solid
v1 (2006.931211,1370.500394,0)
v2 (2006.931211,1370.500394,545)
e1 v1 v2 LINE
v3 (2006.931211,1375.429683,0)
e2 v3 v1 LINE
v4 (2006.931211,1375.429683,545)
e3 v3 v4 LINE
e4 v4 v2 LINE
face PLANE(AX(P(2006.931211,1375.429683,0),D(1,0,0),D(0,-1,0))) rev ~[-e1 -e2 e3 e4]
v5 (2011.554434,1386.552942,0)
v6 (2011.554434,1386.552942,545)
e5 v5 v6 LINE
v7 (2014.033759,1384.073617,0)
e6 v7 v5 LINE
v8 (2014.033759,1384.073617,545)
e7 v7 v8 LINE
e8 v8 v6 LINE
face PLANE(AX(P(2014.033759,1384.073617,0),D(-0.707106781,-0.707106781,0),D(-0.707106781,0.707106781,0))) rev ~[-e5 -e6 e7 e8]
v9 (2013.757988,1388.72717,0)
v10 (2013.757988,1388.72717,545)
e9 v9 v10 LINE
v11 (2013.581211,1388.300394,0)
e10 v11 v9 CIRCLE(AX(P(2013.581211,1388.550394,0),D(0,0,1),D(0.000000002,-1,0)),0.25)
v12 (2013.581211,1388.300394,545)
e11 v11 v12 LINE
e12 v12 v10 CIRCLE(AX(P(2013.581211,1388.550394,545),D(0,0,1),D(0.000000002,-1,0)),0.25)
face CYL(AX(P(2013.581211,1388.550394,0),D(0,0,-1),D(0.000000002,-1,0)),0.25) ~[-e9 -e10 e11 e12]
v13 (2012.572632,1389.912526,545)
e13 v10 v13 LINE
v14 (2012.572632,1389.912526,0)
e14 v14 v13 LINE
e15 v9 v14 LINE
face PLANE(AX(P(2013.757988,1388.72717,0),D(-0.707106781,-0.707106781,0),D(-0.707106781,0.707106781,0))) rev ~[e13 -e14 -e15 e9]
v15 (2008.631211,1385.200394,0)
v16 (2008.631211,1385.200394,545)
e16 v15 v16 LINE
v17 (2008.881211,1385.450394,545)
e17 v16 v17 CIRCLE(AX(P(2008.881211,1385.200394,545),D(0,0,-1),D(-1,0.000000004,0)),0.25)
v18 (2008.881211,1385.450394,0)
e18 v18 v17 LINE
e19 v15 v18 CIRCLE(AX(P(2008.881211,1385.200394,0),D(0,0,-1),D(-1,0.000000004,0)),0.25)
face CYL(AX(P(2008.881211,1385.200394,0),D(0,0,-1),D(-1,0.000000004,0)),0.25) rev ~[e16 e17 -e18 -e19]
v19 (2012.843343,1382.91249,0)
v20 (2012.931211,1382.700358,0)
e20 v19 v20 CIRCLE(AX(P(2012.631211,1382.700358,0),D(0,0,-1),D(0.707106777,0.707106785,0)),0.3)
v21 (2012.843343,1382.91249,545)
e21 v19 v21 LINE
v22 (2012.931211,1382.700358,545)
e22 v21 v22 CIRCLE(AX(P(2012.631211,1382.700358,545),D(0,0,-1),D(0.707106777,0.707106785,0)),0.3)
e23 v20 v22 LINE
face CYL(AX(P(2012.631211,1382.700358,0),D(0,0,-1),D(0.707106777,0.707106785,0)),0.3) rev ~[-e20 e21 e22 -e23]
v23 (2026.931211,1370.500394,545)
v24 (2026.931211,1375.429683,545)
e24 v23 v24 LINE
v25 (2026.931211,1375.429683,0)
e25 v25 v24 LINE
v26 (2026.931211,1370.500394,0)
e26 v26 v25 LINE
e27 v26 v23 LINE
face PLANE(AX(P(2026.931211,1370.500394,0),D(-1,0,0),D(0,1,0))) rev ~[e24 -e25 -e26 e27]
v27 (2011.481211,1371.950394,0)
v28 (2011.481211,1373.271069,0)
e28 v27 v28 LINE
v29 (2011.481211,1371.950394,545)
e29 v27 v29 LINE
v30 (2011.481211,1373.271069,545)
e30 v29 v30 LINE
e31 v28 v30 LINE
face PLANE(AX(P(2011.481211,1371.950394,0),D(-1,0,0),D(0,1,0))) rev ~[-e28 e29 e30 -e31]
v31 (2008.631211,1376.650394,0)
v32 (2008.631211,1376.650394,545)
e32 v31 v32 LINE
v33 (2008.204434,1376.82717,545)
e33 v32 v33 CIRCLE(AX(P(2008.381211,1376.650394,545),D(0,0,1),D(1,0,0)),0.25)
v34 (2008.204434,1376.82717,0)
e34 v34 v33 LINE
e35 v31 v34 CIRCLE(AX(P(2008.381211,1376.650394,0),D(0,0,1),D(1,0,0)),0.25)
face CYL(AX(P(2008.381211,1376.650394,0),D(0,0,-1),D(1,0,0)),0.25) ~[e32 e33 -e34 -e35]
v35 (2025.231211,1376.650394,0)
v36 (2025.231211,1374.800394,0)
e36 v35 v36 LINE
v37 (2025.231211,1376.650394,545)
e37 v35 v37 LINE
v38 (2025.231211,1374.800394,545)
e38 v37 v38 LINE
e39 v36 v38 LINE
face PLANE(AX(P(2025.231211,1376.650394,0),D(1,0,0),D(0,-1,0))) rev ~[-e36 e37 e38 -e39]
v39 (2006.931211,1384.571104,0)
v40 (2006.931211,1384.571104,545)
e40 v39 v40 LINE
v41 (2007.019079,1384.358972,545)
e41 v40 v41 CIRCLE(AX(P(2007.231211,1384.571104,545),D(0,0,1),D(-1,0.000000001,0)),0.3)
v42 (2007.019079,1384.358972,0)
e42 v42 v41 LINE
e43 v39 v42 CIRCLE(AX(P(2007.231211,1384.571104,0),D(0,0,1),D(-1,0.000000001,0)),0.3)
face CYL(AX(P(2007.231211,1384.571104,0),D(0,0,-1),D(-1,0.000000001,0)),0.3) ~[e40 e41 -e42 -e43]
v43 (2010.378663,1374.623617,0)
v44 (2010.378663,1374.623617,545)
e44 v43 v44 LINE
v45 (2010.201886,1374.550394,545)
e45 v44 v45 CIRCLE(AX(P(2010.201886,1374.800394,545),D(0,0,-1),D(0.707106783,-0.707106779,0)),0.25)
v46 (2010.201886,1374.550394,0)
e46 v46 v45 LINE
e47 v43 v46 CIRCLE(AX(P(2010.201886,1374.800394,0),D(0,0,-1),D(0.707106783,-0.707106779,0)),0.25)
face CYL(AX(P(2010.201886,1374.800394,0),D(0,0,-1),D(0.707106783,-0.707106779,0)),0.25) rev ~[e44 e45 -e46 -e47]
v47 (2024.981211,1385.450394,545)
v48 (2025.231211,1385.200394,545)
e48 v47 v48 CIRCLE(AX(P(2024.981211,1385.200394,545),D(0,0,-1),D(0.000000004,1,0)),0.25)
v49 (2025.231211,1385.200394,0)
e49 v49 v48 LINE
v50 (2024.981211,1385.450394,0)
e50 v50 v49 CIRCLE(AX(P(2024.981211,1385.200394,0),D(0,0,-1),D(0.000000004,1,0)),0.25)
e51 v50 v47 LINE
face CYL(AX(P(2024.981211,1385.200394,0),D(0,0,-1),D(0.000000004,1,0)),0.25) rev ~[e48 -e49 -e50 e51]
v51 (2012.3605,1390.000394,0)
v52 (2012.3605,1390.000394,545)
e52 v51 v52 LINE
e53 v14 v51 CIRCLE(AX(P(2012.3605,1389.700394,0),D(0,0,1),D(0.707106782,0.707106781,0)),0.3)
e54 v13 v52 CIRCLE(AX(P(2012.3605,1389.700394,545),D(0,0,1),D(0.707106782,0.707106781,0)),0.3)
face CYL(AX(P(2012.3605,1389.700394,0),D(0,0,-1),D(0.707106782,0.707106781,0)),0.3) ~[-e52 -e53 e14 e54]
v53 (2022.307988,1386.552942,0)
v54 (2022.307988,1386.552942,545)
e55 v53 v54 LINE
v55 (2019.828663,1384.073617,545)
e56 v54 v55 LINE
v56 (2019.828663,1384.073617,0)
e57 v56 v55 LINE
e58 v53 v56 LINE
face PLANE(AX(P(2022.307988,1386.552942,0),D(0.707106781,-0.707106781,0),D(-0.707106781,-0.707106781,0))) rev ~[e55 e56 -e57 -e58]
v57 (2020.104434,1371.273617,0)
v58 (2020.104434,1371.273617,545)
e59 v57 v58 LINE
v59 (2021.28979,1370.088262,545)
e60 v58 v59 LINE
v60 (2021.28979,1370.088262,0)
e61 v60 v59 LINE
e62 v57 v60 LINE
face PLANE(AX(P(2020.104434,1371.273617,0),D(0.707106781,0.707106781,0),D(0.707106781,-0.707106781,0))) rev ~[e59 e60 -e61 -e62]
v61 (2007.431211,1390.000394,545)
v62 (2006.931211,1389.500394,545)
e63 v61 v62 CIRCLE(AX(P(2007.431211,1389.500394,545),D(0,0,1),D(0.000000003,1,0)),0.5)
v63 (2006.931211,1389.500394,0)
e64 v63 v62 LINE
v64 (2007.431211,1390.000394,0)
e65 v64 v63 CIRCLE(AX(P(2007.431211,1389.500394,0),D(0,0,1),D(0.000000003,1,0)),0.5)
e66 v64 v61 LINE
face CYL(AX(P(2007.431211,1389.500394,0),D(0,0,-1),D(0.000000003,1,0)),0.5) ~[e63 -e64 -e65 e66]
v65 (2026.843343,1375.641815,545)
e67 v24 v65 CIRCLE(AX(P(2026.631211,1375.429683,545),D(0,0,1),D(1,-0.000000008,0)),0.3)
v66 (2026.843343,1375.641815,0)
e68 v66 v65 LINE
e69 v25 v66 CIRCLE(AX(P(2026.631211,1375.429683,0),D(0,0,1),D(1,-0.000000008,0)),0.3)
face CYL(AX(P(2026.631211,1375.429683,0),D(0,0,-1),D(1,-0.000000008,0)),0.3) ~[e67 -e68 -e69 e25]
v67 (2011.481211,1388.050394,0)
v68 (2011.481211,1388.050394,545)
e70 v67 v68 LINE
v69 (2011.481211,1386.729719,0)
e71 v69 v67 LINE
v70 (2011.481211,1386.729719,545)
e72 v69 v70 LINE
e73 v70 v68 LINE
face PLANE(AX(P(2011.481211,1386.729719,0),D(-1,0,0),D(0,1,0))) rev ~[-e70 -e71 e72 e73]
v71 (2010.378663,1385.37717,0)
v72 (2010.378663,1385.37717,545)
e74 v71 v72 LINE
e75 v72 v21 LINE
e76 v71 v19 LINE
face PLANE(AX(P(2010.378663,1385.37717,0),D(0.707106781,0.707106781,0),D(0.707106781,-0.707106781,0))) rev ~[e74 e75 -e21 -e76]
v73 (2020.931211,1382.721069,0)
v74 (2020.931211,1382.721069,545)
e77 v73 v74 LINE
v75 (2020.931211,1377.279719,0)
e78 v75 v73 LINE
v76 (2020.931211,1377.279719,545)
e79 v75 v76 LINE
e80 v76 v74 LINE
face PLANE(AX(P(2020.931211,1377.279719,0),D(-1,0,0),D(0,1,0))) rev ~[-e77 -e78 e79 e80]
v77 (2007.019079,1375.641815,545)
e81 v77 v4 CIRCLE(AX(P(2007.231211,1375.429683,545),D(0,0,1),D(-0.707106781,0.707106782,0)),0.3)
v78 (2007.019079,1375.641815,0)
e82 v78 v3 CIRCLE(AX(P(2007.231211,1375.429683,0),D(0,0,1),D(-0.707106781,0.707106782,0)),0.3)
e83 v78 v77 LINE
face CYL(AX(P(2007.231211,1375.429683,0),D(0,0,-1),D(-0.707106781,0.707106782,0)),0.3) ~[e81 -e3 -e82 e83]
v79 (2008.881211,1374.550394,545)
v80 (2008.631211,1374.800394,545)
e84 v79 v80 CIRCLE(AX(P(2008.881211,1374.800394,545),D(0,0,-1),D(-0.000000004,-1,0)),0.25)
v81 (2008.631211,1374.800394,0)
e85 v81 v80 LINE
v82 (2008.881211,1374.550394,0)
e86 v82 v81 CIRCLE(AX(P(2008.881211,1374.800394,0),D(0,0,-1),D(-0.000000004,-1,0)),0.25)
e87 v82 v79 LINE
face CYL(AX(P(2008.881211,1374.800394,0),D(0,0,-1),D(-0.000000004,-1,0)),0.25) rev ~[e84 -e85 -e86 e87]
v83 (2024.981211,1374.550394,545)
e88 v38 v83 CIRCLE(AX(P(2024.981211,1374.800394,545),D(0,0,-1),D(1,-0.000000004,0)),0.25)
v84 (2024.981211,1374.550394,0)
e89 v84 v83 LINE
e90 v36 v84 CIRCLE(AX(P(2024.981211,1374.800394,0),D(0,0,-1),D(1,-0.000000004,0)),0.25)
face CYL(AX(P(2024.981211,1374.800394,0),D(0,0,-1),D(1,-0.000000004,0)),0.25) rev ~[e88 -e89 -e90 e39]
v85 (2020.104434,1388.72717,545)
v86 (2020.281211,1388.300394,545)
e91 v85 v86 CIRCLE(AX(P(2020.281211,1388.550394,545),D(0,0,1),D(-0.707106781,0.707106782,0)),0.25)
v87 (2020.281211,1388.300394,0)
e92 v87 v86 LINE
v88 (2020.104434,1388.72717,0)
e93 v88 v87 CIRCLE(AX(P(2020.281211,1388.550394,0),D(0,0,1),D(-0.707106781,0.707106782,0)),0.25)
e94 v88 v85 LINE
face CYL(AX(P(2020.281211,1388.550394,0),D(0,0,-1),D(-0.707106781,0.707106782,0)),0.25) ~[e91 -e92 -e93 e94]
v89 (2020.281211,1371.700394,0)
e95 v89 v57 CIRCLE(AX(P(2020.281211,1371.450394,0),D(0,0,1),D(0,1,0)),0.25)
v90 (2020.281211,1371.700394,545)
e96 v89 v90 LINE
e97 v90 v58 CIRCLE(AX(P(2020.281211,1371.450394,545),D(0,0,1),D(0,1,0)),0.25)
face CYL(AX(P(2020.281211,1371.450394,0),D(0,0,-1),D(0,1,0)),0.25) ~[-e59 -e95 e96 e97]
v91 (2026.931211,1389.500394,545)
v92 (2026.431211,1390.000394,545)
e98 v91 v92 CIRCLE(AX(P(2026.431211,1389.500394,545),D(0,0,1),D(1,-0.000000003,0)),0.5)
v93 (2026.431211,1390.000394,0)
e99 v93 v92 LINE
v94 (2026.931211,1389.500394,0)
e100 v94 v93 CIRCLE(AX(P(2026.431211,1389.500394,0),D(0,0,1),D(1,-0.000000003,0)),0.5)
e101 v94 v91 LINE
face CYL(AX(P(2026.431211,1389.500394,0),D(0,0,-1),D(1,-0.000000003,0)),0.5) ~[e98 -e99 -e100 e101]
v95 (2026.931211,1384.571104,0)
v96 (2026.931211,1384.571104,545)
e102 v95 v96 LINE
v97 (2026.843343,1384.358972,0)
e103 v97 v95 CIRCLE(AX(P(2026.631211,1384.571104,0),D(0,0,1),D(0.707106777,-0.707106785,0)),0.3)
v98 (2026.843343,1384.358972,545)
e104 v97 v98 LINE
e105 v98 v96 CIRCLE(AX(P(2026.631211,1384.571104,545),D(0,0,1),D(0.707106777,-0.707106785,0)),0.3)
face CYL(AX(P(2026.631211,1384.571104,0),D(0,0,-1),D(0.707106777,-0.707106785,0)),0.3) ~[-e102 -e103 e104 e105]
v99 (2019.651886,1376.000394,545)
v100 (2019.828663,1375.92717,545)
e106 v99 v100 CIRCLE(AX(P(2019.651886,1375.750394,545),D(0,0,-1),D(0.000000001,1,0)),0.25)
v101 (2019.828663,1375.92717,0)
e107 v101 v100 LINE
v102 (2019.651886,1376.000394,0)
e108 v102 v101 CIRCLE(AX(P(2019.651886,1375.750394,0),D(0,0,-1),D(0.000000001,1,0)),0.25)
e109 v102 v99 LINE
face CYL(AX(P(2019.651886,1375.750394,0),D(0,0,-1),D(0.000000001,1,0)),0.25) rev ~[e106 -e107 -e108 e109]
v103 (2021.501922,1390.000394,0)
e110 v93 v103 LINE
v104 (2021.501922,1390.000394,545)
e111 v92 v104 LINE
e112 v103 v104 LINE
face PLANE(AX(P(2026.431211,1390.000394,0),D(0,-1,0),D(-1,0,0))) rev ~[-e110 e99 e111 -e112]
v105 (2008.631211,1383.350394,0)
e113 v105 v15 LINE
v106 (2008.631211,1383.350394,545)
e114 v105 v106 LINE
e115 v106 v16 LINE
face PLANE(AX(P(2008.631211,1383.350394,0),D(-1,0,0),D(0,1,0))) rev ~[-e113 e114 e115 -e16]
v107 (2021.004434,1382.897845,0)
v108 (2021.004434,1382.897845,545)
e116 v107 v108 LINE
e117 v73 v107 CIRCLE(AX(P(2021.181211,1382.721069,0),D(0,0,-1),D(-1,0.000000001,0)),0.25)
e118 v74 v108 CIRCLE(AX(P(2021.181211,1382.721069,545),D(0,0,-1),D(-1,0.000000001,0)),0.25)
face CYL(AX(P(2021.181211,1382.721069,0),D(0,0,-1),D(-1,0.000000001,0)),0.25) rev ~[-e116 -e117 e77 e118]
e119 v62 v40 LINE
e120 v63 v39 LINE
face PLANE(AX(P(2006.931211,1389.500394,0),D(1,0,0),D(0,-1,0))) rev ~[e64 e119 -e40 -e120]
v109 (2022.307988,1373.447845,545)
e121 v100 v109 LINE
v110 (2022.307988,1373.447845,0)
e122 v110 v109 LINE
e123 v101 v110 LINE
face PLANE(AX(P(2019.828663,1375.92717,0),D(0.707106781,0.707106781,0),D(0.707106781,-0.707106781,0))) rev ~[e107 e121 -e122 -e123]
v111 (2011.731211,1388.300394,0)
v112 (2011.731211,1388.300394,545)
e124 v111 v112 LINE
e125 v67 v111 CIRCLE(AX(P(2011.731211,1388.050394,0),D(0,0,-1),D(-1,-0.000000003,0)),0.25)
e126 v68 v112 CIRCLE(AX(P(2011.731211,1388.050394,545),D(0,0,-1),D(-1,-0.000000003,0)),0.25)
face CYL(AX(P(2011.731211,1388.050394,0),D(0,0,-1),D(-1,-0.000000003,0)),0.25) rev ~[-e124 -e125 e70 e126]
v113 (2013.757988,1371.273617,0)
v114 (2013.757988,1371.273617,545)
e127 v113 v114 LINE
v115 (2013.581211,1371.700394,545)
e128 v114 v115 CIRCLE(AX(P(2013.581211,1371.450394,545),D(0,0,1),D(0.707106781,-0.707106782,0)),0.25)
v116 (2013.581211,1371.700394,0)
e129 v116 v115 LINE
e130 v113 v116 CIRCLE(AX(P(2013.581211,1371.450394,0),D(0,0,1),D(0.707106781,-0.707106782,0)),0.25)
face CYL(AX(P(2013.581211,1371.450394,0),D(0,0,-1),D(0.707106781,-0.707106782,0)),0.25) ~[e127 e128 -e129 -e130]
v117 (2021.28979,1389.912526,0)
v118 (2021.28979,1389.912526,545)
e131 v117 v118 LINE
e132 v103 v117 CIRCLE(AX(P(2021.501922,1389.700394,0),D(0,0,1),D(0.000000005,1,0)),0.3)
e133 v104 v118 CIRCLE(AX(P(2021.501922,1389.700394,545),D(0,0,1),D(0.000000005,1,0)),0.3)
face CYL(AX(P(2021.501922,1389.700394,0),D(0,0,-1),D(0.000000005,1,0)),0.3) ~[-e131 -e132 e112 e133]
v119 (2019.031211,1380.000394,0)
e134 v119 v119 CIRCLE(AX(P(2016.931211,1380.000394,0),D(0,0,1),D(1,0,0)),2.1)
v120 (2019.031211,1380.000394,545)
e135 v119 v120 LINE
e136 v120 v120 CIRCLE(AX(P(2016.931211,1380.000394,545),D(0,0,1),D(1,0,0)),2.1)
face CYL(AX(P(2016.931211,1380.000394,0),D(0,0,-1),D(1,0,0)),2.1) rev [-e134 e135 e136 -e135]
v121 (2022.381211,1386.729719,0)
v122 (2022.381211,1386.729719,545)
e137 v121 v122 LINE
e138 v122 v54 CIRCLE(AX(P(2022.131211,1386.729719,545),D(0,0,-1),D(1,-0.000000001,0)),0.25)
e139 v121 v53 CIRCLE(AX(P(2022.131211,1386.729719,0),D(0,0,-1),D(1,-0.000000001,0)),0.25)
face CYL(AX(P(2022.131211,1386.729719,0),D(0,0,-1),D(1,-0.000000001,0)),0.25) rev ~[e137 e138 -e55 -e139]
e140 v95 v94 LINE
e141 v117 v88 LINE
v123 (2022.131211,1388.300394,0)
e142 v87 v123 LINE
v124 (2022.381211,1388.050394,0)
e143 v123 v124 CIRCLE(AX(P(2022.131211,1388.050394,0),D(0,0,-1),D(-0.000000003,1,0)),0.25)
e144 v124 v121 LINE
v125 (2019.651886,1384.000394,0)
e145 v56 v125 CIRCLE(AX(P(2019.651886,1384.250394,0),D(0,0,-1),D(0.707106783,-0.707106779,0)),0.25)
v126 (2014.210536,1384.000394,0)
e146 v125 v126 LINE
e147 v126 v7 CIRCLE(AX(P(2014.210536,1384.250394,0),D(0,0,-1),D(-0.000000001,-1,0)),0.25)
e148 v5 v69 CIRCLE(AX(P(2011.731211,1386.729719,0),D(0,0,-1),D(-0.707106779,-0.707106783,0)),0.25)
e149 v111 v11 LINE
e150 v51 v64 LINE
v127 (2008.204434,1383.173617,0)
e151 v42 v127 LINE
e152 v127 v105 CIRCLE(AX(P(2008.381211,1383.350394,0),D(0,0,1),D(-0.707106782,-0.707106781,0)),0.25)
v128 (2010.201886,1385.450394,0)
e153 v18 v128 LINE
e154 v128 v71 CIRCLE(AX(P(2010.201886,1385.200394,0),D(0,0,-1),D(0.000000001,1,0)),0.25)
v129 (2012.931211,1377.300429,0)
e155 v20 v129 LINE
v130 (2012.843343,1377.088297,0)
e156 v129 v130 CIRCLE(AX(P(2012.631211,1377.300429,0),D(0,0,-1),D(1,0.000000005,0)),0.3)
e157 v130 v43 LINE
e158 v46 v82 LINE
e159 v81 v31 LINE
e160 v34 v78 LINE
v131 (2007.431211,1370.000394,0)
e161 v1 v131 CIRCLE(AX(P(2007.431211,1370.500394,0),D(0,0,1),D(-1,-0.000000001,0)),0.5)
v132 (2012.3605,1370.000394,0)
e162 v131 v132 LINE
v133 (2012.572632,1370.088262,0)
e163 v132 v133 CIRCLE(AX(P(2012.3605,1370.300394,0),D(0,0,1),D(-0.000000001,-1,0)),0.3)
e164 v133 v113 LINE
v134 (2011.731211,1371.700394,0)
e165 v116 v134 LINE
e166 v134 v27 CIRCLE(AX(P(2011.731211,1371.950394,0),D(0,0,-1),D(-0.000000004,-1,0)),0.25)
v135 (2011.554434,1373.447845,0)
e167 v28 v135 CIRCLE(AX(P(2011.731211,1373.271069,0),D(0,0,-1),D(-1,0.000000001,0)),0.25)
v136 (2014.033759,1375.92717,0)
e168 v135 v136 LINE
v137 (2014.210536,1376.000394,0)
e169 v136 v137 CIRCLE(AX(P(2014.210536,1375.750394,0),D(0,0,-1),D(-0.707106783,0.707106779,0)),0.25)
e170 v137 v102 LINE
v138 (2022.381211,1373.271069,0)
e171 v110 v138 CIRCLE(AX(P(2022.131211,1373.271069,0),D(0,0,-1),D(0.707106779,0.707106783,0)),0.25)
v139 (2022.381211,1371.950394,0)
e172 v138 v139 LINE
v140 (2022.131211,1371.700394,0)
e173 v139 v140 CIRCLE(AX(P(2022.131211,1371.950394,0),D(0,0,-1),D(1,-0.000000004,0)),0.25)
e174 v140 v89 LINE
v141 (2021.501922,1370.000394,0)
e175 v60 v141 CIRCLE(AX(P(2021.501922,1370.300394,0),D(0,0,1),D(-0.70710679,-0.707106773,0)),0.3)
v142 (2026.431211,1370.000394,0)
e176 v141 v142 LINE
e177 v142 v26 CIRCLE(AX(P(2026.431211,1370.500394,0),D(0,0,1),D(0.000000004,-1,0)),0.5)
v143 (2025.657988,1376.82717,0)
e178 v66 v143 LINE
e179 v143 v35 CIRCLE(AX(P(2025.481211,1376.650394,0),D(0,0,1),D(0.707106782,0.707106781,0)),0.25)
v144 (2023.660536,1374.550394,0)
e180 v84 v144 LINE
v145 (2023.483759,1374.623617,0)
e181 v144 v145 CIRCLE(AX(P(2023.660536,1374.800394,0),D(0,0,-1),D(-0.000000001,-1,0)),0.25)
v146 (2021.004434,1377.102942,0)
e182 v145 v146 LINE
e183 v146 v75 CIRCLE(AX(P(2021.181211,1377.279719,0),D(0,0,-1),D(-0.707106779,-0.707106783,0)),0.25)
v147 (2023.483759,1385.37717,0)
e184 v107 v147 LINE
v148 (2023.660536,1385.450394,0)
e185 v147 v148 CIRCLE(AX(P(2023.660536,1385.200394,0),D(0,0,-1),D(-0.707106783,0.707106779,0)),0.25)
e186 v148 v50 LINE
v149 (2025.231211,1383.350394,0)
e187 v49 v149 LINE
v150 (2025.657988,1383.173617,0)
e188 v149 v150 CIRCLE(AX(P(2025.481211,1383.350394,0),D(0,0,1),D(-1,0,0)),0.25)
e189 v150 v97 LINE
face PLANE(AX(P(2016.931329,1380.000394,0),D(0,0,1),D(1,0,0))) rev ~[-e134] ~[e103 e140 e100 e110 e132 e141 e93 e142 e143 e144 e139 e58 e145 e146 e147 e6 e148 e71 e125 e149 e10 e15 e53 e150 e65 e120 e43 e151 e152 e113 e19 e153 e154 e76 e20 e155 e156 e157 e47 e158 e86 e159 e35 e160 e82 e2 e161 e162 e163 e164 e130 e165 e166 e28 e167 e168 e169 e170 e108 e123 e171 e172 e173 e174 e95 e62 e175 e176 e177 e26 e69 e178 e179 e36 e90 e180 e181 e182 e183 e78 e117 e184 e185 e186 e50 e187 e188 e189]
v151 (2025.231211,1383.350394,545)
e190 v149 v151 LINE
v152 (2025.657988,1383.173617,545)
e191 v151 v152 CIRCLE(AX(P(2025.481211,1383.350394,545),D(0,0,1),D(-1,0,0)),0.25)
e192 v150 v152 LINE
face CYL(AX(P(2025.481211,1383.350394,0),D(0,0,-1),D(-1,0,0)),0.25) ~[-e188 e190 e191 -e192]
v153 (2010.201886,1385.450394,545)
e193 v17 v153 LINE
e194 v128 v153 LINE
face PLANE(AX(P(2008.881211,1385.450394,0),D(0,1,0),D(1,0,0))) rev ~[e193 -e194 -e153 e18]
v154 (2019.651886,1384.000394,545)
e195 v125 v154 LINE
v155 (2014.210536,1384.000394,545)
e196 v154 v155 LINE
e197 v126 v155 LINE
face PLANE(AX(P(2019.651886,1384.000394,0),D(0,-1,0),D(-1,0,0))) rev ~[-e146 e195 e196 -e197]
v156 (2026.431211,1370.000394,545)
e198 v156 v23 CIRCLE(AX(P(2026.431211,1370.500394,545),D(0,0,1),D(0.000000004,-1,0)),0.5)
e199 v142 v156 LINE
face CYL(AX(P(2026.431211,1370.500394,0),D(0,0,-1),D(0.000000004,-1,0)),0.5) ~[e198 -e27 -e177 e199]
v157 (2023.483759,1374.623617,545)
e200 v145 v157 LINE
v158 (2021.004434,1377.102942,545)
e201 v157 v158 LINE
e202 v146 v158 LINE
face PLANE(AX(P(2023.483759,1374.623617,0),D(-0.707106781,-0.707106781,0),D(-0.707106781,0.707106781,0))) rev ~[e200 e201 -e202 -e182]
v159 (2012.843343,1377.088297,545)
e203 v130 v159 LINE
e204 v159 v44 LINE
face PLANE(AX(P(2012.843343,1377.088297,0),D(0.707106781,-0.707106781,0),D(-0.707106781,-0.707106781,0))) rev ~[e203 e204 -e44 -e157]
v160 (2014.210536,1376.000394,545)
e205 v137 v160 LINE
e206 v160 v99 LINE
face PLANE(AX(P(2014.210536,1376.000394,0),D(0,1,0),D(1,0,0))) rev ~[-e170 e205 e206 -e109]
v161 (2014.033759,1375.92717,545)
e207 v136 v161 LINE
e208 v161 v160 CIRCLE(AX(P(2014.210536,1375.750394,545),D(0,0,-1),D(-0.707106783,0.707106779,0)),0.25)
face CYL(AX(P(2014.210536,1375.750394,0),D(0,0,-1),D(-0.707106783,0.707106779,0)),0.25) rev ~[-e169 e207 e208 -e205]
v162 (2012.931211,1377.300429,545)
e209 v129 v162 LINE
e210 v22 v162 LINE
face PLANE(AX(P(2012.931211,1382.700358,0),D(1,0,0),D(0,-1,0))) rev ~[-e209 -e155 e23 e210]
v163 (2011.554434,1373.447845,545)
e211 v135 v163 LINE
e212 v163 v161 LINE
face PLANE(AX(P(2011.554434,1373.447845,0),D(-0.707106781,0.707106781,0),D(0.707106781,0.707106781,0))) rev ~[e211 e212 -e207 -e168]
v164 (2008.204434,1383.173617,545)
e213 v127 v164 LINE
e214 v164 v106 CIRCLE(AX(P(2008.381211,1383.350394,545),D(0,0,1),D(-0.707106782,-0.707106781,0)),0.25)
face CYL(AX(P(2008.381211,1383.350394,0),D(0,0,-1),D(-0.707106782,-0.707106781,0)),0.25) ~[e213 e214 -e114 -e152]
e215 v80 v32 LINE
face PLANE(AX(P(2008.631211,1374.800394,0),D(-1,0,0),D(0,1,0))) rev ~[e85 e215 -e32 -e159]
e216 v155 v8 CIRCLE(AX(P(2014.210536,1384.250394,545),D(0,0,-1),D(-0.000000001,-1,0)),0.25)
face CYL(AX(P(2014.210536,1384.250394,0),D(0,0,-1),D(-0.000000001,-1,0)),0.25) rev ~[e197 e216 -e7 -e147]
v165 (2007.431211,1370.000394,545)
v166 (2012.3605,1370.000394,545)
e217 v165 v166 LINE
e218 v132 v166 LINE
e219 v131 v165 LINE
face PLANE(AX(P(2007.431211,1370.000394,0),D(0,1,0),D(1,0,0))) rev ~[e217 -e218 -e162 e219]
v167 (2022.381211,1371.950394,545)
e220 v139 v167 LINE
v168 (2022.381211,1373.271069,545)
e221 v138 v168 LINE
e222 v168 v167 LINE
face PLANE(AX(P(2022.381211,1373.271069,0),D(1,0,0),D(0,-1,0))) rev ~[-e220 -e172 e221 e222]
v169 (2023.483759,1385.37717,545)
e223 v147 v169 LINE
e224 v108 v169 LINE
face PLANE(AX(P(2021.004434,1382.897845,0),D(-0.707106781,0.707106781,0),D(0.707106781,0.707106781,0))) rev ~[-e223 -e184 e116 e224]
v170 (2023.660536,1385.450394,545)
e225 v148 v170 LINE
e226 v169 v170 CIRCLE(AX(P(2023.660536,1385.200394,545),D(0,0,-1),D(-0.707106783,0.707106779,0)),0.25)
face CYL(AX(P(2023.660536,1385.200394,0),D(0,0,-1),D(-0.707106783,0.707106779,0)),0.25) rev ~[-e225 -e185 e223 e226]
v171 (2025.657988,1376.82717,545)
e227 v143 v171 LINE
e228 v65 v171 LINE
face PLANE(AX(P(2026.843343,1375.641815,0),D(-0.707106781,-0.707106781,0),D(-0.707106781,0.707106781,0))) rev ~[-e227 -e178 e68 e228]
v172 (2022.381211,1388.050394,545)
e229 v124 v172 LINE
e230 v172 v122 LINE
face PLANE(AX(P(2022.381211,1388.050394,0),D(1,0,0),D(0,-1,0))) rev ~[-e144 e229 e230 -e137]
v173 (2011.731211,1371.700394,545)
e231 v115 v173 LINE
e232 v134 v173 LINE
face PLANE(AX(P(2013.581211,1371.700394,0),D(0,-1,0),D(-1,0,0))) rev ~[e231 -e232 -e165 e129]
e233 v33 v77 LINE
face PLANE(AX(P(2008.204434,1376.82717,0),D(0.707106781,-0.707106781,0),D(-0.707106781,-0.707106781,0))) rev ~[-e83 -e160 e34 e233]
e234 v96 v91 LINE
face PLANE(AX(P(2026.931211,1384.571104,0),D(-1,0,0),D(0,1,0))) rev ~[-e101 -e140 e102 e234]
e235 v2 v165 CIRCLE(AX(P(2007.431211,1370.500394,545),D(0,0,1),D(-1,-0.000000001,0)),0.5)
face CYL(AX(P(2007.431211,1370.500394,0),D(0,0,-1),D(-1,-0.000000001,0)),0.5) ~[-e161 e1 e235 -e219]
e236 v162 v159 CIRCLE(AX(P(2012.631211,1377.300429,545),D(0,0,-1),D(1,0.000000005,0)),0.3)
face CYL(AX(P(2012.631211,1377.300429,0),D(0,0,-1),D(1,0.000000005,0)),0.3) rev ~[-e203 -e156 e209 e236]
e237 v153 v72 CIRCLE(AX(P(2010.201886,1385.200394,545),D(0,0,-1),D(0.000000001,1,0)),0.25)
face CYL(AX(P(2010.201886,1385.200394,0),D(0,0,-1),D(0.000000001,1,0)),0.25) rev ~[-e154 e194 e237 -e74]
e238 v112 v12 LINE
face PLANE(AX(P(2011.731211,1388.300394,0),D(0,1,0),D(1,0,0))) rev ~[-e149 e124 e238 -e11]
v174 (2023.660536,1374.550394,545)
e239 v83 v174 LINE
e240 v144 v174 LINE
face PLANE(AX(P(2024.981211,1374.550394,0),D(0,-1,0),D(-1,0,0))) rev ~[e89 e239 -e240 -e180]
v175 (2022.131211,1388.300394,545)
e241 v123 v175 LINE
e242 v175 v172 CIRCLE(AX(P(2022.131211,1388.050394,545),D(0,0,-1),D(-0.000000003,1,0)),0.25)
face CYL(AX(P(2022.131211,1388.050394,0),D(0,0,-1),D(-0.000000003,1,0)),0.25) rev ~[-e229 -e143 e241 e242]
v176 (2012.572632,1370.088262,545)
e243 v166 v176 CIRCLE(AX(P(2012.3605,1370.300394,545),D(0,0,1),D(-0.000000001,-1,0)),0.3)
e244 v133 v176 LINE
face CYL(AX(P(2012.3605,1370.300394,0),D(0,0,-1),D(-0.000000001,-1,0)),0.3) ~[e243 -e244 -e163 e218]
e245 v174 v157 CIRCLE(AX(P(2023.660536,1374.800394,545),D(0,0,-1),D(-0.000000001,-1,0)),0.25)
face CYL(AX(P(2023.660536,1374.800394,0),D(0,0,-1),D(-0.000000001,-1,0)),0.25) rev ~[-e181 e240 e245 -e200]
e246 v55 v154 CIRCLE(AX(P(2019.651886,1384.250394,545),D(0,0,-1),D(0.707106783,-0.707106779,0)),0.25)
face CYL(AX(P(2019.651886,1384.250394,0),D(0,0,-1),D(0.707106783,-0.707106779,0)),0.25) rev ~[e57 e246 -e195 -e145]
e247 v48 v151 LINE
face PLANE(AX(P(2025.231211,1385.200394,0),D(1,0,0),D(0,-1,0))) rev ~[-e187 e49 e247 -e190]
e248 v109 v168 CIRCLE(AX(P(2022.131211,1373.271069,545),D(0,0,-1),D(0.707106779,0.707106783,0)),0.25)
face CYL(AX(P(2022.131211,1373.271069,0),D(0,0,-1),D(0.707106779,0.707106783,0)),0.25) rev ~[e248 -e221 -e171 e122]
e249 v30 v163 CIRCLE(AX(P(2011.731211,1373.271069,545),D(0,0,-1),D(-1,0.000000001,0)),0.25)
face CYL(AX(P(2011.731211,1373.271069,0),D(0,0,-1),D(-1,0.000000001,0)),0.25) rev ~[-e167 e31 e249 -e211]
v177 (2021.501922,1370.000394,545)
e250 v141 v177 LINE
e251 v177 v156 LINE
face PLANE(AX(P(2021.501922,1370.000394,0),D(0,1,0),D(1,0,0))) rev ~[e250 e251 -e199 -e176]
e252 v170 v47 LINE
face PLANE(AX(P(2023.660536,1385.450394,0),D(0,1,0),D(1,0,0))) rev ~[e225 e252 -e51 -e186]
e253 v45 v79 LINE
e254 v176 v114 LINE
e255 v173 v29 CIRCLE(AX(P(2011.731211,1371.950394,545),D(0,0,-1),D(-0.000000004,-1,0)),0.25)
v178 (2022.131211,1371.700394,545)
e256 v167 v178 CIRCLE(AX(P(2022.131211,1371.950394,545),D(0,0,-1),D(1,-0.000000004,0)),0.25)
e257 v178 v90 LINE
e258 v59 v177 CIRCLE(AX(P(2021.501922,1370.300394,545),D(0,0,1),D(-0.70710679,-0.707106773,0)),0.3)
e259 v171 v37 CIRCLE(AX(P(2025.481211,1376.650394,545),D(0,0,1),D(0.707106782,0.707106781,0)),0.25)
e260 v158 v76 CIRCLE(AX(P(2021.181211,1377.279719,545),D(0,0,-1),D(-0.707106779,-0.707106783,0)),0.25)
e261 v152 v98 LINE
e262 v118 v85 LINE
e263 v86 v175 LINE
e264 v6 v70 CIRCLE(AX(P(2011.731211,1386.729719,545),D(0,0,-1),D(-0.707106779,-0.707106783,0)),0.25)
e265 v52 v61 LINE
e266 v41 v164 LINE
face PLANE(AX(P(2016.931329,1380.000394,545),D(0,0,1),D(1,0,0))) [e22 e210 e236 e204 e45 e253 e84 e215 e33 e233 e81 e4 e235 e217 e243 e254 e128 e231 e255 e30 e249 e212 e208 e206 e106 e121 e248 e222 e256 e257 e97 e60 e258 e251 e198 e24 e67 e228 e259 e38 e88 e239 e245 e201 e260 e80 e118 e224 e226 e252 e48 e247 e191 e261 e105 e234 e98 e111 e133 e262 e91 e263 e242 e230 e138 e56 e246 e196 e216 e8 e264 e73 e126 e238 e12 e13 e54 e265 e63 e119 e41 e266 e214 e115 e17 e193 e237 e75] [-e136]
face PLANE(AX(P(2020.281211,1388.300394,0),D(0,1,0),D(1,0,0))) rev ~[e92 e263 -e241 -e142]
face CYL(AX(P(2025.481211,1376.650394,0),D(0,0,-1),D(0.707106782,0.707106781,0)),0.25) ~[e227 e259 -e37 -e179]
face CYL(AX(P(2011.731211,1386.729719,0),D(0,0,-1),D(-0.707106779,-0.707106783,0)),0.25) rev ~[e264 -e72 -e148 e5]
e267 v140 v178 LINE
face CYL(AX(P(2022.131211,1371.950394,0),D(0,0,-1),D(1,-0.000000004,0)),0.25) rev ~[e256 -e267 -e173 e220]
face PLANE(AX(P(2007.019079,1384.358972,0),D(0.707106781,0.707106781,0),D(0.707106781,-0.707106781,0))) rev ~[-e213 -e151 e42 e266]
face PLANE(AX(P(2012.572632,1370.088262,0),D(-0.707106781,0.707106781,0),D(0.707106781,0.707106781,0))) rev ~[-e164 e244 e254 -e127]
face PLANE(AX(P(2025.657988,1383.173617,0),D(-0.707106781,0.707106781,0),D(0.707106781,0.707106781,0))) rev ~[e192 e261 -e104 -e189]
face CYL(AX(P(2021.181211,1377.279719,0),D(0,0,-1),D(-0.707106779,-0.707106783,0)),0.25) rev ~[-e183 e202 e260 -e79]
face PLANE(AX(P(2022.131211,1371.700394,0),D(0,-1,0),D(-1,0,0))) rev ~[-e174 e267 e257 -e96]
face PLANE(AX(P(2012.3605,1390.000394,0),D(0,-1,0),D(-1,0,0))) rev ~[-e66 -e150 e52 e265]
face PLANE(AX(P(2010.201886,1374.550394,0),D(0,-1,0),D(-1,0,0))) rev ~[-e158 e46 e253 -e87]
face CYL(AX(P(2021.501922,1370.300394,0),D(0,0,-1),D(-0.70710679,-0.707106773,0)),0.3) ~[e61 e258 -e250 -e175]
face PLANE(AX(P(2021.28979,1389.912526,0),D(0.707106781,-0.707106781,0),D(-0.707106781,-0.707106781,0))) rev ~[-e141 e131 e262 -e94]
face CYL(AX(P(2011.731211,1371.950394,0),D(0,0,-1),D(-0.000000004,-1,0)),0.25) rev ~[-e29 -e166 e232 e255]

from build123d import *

# Parameters (mm, degrees)
MODEL_R             = 2.1
BOSS_EXTRUDE1_DEPTH = 545


with BuildPart() as part:
    # Model → Boss-Extrude1 (new body)
    with BuildSketch(Plane.XY):
        with BuildLine():
            Line((2012.931211125, 1381.800393717), (2012.931211125, 1378.200393717))
            Line((2012.931211125, 1378.200393717), (2012.931211125, 1377.300429431))
            ThreePointArc((2012.931211125, 1377.300429431), (2012.908374985, 1377.185624401), (2012.843343159, 1377.088297396))
            Line((2012.843343159, 1377.088297396), (2010.378662785, 1374.623617022))
            ThreePointArc((2010.378662785, 1374.623617022), (2010.297556948, 1374.569423834), (2010.20188609, 1374.550393717))
            Line((2010.20188609, 1374.550393717), (2008.881211125, 1374.550393717))
            ThreePointArc((2008.881211125, 1374.550393717), (2008.70443443, 1374.623617022), (2008.631211125, 1374.800393717))
            Line((2008.631211125, 1374.800393717), (2008.631211125, 1376.650393717))
            ThreePointArc((2008.631211125, 1376.650393717), (2008.476881983, 1376.8813636), (2008.20443443, 1376.827170412))
            Line((2008.20443443, 1376.827170412), (2007.01907909, 1375.641815073))
            ThreePointArc((2007.01907909, 1375.641815073), (2006.954047265, 1375.544488069), (2006.931211125, 1375.429683039))
            Line((2006.931211125, 1375.429683039), (2006.931211125, 1370.500393717))
            ThreePointArc((2006.931211125, 1370.500393717), (2007.077657734, 1370.146840327), (2007.431211125, 1370.000393717))
            Line((2007.431211125, 1370.000393717), (2012.360500447, 1370.000393717))
            ThreePointArc((2012.360500447, 1370.000393717), (2012.475305476, 1370.023229857), (2012.572632481, 1370.088261683))
            Line((2012.572632481, 1370.088261683), (2013.75798782, 1371.273617022))
            ThreePointArc((2013.75798782, 1371.273617022), (2013.812181008, 1371.546064575), (2013.581211125, 1371.700393717))
            Line((2013.581211125, 1371.700393717), (2011.731211125, 1371.700393717))
            ThreePointArc((2011.731211125, 1371.700393717), (2011.55443443, 1371.773617022), (2011.481211125, 1371.950393717))
            Line((2011.481211125, 1371.950393717), (2011.481211125, 1373.271068682))
            ThreePointArc((2011.481211125, 1373.271068682), (2011.500241242, 1373.36673954), (2011.55443443, 1373.447845377))
            Line((2011.55443443, 1373.447845377), (2014.033759465, 1375.927170412))
            ThreePointArc((2014.033759465, 1375.927170412), (2014.114865302, 1375.9813636), (2014.21053616, 1376.000393717))
            Line((2014.21053616, 1376.000393717), (2016.470233902, 1376.000393717))
            Line((2016.470233902, 1376.000393717), (2017.392188348, 1376.000393717))
            Line((2017.392188348, 1376.000393717), (2019.65188609, 1376.000393717))
            ThreePointArc((2019.65188609, 1376.000393717), (2019.747556948, 1375.9813636), (2019.828662785, 1375.927170412))
            Line((2019.828662785, 1375.927170412), (2022.30798782, 1373.447845377))
            ThreePointArc((2022.30798782, 1373.447845377), (2022.362181008, 1373.36673954), (2022.381211125, 1373.271068682))
            Line((2022.381211125, 1373.271068682), (2022.381211125, 1371.950393717))
            ThreePointArc((2022.381211125, 1371.950393717), (2022.30798782, 1371.773617022), (2022.131211125, 1371.700393717))
            Line((2022.131211125, 1371.700393717), (2020.281211125, 1371.700393717))
            ThreePointArc((2020.281211125, 1371.700393717), (2020.050241242, 1371.546064575), (2020.10443443, 1371.273617022))
            Line((2020.10443443, 1371.273617022), (2021.289789769, 1370.088261683))
            ThreePointArc((2021.289789769, 1370.088261683), (2021.387116773, 1370.023229857), (2021.501921803, 1370.000393717))
            Line((2021.501921803, 1370.000393717), (2026.431211125, 1370.000393717))
            ThreePointArc((2026.431211125, 1370.000393717), (2026.784764515, 1370.146840327), (2026.931211125, 1370.500393717))
            Line((2026.931211125, 1370.500393717), (2026.931211125, 1375.429683039))
            ThreePointArc((2026.931211125, 1375.429683039), (2026.908374985, 1375.544488069), (2026.843343159, 1375.641815073))
            Line((2026.843343159, 1375.641815073), (2025.65798782, 1376.827170412))
            ThreePointArc((2025.65798782, 1376.827170412), (2025.385540267, 1376.8813636), (2025.231211125, 1376.650393717))
            Line((2025.231211125, 1376.650393717), (2025.231211125, 1374.800393717))
            ThreePointArc((2025.231211125, 1374.800393717), (2025.15798782, 1374.623617022), (2024.981211125, 1374.550393717))
            Line((2024.981211125, 1374.550393717), (2023.66053616, 1374.550393717))
            ThreePointArc((2023.66053616, 1374.550393717), (2023.564865302, 1374.569423834), (2023.483759465, 1374.623617022))
            Line((2023.483759465, 1374.623617022), (2021.00443443, 1377.102942057))
            ThreePointArc((2021.00443443, 1377.102942057), (2020.950241242, 1377.184047894), (2020.931211125, 1377.279718752))
            Line((2020.931211125, 1377.279718752), (2020.931211125, 1379.539416494))
            Line((2020.931211125, 1379.539416494), (2020.931211125, 1380.46137094))
            Line((2020.931211125, 1380.46137094), (2020.931211125, 1382.721068682))
            ThreePointArc((2020.931211125, 1382.721068682), (2020.950241242, 1382.81673954), (2021.00443443, 1382.897845377))
            Line((2021.00443443, 1382.897845377), (2023.483759465, 1385.377170412))
            ThreePointArc((2023.483759465, 1385.377170412), (2023.564865302, 1385.4313636), (2023.66053616, 1385.450393717))
            Line((2023.66053616, 1385.450393717), (2024.981211125, 1385.450393717))
            ThreePointArc((2024.981211125, 1385.450393717), (2025.15798782, 1385.377170412), (2025.231211125, 1385.200393717))
            Line((2025.231211125, 1385.200393717), (2025.231211125, 1383.350393717))
            ThreePointArc((2025.231211125, 1383.350393717), (2025.385540267, 1383.119423834), (2025.65798782, 1383.173617022))
            Line((2025.65798782, 1383.173617022), (2026.843343159, 1384.358972361))
            ThreePointArc((2026.843343159, 1384.358972361), (2026.908374985, 1384.456299366), (2026.931211125, 1384.571104395))
            Line((2026.931211125, 1384.571104395), (2026.931211125, 1389.500393717))
            ThreePointArc((2026.931211125, 1389.500393717), (2026.784764516, 1389.853947108), (2026.431211125, 1390.000393717))
            Line((2026.431211125, 1390.000393717), (2021.501921803, 1390.000393717))
            ThreePointArc((2021.501921803, 1390.000393717), (2021.387116773, 1389.977557577), (2021.289789769, 1389.912525752))
            Line((2021.289789769, 1389.912525752), (2020.10443443, 1388.727170413))
            ThreePointArc((2020.10443443, 1388.727170413), (2020.050241242, 1388.454722859), (2020.281211125, 1388.300393717))
            Line((2020.281211125, 1388.300393717), (2022.131211125, 1388.300393717))
            ThreePointArc((2022.131211125, 1388.300393717), (2022.30798782, 1388.227170413), (2022.381211125, 1388.050393717))
            Line((2022.381211125, 1388.050393717), (2022.381211125, 1386.729718752))
            ThreePointArc((2022.381211125, 1386.729718752), (2022.362181008, 1386.634047894), (2022.30798782, 1386.552942057))
            Line((2022.30798782, 1386.552942057), (2019.828662785, 1384.073617022))
            ThreePointArc((2019.828662785, 1384.073617022), (2019.747556948, 1384.019423834), (2019.65188609, 1384.000393717))
            Line((2019.65188609, 1384.000393717), (2017.392188348, 1384.000393717))
            Line((2017.392188348, 1384.000393717), (2016.470233902, 1384.000393717))
            Line((2016.470233902, 1384.000393717), (2014.21053616, 1384.000393717))
            ThreePointArc((2014.21053616, 1384.000393717), (2014.114865302, 1384.019423834), (2014.033759465, 1384.073617022))
            Line((2014.033759465, 1384.073617022), (2011.55443443, 1386.552942057))
            ThreePointArc((2011.55443443, 1386.552942057), (2011.500241242, 1386.634047894), (2011.481211125, 1386.729718752))
            Line((2011.481211125, 1386.729718752), (2011.481211125, 1388.050393717))
            ThreePointArc((2011.481211125, 1388.050393717), (2011.55443443, 1388.227170413), (2011.731211125, 1388.300393717))
            Line((2011.731211125, 1388.300393717), (2013.581211125, 1388.300393717))
            ThreePointArc((2013.581211125, 1388.300393717), (2013.812181008, 1388.454722859), (2013.75798782, 1388.727170413))
            Line((2013.75798782, 1388.727170413), (2012.572632481, 1389.912525752))
            ThreePointArc((2012.572632481, 1389.912525752), (2012.475305477, 1389.977557577), (2012.360500447, 1390.000393717))
            Line((2012.360500447, 1390.000393717), (2007.431211125, 1390.000393717))
            ThreePointArc((2007.431211125, 1390.000393717), (2007.077657734, 1389.853947108), (2006.931211125, 1389.500393717))
            Line((2006.931211125, 1389.500393717), (2006.931211125, 1384.571104395))
            ThreePointArc((2006.931211125, 1384.571104395), (2006.954047265, 1384.456299366), (2007.019079091, 1384.358972361))
            Line((2007.019079091, 1384.358972361), (2008.20443443, 1383.173617022))
            ThreePointArc((2008.20443443, 1383.173617022), (2008.476881983, 1383.119423834), (2008.631211125, 1383.350393717))
            Line((2008.631211125, 1383.350393717), (2008.631211125, 1385.200393717))
            ThreePointArc((2008.631211125, 1385.200393717), (2008.70443443, 1385.377170412), (2008.881211125, 1385.450393717))
            Line((2008.881211125, 1385.450393717), (2010.20188609, 1385.450393717))
            ThreePointArc((2010.20188609, 1385.450393717), (2010.297556948, 1385.4313636), (2010.378662785, 1385.377170412))
            Line((2010.378662785, 1385.377170412), (2012.843343159, 1382.912490038))
            ThreePointArc((2012.843343159, 1382.912490038), (2012.908374985, 1382.815163033), (2012.931211125, 1382.700358004))
            Line((2012.931211125, 1382.700358004), (2012.931211125, 1381.800393717))
        make_face()
        with Locations((2016.931211125, 1380.000393717)):
            Circle(MODEL_R, mode=Mode.SUBTRACT)
    extrude(amount=BOSS_EXTRUDE1_DEPTH)


solid = part.part
